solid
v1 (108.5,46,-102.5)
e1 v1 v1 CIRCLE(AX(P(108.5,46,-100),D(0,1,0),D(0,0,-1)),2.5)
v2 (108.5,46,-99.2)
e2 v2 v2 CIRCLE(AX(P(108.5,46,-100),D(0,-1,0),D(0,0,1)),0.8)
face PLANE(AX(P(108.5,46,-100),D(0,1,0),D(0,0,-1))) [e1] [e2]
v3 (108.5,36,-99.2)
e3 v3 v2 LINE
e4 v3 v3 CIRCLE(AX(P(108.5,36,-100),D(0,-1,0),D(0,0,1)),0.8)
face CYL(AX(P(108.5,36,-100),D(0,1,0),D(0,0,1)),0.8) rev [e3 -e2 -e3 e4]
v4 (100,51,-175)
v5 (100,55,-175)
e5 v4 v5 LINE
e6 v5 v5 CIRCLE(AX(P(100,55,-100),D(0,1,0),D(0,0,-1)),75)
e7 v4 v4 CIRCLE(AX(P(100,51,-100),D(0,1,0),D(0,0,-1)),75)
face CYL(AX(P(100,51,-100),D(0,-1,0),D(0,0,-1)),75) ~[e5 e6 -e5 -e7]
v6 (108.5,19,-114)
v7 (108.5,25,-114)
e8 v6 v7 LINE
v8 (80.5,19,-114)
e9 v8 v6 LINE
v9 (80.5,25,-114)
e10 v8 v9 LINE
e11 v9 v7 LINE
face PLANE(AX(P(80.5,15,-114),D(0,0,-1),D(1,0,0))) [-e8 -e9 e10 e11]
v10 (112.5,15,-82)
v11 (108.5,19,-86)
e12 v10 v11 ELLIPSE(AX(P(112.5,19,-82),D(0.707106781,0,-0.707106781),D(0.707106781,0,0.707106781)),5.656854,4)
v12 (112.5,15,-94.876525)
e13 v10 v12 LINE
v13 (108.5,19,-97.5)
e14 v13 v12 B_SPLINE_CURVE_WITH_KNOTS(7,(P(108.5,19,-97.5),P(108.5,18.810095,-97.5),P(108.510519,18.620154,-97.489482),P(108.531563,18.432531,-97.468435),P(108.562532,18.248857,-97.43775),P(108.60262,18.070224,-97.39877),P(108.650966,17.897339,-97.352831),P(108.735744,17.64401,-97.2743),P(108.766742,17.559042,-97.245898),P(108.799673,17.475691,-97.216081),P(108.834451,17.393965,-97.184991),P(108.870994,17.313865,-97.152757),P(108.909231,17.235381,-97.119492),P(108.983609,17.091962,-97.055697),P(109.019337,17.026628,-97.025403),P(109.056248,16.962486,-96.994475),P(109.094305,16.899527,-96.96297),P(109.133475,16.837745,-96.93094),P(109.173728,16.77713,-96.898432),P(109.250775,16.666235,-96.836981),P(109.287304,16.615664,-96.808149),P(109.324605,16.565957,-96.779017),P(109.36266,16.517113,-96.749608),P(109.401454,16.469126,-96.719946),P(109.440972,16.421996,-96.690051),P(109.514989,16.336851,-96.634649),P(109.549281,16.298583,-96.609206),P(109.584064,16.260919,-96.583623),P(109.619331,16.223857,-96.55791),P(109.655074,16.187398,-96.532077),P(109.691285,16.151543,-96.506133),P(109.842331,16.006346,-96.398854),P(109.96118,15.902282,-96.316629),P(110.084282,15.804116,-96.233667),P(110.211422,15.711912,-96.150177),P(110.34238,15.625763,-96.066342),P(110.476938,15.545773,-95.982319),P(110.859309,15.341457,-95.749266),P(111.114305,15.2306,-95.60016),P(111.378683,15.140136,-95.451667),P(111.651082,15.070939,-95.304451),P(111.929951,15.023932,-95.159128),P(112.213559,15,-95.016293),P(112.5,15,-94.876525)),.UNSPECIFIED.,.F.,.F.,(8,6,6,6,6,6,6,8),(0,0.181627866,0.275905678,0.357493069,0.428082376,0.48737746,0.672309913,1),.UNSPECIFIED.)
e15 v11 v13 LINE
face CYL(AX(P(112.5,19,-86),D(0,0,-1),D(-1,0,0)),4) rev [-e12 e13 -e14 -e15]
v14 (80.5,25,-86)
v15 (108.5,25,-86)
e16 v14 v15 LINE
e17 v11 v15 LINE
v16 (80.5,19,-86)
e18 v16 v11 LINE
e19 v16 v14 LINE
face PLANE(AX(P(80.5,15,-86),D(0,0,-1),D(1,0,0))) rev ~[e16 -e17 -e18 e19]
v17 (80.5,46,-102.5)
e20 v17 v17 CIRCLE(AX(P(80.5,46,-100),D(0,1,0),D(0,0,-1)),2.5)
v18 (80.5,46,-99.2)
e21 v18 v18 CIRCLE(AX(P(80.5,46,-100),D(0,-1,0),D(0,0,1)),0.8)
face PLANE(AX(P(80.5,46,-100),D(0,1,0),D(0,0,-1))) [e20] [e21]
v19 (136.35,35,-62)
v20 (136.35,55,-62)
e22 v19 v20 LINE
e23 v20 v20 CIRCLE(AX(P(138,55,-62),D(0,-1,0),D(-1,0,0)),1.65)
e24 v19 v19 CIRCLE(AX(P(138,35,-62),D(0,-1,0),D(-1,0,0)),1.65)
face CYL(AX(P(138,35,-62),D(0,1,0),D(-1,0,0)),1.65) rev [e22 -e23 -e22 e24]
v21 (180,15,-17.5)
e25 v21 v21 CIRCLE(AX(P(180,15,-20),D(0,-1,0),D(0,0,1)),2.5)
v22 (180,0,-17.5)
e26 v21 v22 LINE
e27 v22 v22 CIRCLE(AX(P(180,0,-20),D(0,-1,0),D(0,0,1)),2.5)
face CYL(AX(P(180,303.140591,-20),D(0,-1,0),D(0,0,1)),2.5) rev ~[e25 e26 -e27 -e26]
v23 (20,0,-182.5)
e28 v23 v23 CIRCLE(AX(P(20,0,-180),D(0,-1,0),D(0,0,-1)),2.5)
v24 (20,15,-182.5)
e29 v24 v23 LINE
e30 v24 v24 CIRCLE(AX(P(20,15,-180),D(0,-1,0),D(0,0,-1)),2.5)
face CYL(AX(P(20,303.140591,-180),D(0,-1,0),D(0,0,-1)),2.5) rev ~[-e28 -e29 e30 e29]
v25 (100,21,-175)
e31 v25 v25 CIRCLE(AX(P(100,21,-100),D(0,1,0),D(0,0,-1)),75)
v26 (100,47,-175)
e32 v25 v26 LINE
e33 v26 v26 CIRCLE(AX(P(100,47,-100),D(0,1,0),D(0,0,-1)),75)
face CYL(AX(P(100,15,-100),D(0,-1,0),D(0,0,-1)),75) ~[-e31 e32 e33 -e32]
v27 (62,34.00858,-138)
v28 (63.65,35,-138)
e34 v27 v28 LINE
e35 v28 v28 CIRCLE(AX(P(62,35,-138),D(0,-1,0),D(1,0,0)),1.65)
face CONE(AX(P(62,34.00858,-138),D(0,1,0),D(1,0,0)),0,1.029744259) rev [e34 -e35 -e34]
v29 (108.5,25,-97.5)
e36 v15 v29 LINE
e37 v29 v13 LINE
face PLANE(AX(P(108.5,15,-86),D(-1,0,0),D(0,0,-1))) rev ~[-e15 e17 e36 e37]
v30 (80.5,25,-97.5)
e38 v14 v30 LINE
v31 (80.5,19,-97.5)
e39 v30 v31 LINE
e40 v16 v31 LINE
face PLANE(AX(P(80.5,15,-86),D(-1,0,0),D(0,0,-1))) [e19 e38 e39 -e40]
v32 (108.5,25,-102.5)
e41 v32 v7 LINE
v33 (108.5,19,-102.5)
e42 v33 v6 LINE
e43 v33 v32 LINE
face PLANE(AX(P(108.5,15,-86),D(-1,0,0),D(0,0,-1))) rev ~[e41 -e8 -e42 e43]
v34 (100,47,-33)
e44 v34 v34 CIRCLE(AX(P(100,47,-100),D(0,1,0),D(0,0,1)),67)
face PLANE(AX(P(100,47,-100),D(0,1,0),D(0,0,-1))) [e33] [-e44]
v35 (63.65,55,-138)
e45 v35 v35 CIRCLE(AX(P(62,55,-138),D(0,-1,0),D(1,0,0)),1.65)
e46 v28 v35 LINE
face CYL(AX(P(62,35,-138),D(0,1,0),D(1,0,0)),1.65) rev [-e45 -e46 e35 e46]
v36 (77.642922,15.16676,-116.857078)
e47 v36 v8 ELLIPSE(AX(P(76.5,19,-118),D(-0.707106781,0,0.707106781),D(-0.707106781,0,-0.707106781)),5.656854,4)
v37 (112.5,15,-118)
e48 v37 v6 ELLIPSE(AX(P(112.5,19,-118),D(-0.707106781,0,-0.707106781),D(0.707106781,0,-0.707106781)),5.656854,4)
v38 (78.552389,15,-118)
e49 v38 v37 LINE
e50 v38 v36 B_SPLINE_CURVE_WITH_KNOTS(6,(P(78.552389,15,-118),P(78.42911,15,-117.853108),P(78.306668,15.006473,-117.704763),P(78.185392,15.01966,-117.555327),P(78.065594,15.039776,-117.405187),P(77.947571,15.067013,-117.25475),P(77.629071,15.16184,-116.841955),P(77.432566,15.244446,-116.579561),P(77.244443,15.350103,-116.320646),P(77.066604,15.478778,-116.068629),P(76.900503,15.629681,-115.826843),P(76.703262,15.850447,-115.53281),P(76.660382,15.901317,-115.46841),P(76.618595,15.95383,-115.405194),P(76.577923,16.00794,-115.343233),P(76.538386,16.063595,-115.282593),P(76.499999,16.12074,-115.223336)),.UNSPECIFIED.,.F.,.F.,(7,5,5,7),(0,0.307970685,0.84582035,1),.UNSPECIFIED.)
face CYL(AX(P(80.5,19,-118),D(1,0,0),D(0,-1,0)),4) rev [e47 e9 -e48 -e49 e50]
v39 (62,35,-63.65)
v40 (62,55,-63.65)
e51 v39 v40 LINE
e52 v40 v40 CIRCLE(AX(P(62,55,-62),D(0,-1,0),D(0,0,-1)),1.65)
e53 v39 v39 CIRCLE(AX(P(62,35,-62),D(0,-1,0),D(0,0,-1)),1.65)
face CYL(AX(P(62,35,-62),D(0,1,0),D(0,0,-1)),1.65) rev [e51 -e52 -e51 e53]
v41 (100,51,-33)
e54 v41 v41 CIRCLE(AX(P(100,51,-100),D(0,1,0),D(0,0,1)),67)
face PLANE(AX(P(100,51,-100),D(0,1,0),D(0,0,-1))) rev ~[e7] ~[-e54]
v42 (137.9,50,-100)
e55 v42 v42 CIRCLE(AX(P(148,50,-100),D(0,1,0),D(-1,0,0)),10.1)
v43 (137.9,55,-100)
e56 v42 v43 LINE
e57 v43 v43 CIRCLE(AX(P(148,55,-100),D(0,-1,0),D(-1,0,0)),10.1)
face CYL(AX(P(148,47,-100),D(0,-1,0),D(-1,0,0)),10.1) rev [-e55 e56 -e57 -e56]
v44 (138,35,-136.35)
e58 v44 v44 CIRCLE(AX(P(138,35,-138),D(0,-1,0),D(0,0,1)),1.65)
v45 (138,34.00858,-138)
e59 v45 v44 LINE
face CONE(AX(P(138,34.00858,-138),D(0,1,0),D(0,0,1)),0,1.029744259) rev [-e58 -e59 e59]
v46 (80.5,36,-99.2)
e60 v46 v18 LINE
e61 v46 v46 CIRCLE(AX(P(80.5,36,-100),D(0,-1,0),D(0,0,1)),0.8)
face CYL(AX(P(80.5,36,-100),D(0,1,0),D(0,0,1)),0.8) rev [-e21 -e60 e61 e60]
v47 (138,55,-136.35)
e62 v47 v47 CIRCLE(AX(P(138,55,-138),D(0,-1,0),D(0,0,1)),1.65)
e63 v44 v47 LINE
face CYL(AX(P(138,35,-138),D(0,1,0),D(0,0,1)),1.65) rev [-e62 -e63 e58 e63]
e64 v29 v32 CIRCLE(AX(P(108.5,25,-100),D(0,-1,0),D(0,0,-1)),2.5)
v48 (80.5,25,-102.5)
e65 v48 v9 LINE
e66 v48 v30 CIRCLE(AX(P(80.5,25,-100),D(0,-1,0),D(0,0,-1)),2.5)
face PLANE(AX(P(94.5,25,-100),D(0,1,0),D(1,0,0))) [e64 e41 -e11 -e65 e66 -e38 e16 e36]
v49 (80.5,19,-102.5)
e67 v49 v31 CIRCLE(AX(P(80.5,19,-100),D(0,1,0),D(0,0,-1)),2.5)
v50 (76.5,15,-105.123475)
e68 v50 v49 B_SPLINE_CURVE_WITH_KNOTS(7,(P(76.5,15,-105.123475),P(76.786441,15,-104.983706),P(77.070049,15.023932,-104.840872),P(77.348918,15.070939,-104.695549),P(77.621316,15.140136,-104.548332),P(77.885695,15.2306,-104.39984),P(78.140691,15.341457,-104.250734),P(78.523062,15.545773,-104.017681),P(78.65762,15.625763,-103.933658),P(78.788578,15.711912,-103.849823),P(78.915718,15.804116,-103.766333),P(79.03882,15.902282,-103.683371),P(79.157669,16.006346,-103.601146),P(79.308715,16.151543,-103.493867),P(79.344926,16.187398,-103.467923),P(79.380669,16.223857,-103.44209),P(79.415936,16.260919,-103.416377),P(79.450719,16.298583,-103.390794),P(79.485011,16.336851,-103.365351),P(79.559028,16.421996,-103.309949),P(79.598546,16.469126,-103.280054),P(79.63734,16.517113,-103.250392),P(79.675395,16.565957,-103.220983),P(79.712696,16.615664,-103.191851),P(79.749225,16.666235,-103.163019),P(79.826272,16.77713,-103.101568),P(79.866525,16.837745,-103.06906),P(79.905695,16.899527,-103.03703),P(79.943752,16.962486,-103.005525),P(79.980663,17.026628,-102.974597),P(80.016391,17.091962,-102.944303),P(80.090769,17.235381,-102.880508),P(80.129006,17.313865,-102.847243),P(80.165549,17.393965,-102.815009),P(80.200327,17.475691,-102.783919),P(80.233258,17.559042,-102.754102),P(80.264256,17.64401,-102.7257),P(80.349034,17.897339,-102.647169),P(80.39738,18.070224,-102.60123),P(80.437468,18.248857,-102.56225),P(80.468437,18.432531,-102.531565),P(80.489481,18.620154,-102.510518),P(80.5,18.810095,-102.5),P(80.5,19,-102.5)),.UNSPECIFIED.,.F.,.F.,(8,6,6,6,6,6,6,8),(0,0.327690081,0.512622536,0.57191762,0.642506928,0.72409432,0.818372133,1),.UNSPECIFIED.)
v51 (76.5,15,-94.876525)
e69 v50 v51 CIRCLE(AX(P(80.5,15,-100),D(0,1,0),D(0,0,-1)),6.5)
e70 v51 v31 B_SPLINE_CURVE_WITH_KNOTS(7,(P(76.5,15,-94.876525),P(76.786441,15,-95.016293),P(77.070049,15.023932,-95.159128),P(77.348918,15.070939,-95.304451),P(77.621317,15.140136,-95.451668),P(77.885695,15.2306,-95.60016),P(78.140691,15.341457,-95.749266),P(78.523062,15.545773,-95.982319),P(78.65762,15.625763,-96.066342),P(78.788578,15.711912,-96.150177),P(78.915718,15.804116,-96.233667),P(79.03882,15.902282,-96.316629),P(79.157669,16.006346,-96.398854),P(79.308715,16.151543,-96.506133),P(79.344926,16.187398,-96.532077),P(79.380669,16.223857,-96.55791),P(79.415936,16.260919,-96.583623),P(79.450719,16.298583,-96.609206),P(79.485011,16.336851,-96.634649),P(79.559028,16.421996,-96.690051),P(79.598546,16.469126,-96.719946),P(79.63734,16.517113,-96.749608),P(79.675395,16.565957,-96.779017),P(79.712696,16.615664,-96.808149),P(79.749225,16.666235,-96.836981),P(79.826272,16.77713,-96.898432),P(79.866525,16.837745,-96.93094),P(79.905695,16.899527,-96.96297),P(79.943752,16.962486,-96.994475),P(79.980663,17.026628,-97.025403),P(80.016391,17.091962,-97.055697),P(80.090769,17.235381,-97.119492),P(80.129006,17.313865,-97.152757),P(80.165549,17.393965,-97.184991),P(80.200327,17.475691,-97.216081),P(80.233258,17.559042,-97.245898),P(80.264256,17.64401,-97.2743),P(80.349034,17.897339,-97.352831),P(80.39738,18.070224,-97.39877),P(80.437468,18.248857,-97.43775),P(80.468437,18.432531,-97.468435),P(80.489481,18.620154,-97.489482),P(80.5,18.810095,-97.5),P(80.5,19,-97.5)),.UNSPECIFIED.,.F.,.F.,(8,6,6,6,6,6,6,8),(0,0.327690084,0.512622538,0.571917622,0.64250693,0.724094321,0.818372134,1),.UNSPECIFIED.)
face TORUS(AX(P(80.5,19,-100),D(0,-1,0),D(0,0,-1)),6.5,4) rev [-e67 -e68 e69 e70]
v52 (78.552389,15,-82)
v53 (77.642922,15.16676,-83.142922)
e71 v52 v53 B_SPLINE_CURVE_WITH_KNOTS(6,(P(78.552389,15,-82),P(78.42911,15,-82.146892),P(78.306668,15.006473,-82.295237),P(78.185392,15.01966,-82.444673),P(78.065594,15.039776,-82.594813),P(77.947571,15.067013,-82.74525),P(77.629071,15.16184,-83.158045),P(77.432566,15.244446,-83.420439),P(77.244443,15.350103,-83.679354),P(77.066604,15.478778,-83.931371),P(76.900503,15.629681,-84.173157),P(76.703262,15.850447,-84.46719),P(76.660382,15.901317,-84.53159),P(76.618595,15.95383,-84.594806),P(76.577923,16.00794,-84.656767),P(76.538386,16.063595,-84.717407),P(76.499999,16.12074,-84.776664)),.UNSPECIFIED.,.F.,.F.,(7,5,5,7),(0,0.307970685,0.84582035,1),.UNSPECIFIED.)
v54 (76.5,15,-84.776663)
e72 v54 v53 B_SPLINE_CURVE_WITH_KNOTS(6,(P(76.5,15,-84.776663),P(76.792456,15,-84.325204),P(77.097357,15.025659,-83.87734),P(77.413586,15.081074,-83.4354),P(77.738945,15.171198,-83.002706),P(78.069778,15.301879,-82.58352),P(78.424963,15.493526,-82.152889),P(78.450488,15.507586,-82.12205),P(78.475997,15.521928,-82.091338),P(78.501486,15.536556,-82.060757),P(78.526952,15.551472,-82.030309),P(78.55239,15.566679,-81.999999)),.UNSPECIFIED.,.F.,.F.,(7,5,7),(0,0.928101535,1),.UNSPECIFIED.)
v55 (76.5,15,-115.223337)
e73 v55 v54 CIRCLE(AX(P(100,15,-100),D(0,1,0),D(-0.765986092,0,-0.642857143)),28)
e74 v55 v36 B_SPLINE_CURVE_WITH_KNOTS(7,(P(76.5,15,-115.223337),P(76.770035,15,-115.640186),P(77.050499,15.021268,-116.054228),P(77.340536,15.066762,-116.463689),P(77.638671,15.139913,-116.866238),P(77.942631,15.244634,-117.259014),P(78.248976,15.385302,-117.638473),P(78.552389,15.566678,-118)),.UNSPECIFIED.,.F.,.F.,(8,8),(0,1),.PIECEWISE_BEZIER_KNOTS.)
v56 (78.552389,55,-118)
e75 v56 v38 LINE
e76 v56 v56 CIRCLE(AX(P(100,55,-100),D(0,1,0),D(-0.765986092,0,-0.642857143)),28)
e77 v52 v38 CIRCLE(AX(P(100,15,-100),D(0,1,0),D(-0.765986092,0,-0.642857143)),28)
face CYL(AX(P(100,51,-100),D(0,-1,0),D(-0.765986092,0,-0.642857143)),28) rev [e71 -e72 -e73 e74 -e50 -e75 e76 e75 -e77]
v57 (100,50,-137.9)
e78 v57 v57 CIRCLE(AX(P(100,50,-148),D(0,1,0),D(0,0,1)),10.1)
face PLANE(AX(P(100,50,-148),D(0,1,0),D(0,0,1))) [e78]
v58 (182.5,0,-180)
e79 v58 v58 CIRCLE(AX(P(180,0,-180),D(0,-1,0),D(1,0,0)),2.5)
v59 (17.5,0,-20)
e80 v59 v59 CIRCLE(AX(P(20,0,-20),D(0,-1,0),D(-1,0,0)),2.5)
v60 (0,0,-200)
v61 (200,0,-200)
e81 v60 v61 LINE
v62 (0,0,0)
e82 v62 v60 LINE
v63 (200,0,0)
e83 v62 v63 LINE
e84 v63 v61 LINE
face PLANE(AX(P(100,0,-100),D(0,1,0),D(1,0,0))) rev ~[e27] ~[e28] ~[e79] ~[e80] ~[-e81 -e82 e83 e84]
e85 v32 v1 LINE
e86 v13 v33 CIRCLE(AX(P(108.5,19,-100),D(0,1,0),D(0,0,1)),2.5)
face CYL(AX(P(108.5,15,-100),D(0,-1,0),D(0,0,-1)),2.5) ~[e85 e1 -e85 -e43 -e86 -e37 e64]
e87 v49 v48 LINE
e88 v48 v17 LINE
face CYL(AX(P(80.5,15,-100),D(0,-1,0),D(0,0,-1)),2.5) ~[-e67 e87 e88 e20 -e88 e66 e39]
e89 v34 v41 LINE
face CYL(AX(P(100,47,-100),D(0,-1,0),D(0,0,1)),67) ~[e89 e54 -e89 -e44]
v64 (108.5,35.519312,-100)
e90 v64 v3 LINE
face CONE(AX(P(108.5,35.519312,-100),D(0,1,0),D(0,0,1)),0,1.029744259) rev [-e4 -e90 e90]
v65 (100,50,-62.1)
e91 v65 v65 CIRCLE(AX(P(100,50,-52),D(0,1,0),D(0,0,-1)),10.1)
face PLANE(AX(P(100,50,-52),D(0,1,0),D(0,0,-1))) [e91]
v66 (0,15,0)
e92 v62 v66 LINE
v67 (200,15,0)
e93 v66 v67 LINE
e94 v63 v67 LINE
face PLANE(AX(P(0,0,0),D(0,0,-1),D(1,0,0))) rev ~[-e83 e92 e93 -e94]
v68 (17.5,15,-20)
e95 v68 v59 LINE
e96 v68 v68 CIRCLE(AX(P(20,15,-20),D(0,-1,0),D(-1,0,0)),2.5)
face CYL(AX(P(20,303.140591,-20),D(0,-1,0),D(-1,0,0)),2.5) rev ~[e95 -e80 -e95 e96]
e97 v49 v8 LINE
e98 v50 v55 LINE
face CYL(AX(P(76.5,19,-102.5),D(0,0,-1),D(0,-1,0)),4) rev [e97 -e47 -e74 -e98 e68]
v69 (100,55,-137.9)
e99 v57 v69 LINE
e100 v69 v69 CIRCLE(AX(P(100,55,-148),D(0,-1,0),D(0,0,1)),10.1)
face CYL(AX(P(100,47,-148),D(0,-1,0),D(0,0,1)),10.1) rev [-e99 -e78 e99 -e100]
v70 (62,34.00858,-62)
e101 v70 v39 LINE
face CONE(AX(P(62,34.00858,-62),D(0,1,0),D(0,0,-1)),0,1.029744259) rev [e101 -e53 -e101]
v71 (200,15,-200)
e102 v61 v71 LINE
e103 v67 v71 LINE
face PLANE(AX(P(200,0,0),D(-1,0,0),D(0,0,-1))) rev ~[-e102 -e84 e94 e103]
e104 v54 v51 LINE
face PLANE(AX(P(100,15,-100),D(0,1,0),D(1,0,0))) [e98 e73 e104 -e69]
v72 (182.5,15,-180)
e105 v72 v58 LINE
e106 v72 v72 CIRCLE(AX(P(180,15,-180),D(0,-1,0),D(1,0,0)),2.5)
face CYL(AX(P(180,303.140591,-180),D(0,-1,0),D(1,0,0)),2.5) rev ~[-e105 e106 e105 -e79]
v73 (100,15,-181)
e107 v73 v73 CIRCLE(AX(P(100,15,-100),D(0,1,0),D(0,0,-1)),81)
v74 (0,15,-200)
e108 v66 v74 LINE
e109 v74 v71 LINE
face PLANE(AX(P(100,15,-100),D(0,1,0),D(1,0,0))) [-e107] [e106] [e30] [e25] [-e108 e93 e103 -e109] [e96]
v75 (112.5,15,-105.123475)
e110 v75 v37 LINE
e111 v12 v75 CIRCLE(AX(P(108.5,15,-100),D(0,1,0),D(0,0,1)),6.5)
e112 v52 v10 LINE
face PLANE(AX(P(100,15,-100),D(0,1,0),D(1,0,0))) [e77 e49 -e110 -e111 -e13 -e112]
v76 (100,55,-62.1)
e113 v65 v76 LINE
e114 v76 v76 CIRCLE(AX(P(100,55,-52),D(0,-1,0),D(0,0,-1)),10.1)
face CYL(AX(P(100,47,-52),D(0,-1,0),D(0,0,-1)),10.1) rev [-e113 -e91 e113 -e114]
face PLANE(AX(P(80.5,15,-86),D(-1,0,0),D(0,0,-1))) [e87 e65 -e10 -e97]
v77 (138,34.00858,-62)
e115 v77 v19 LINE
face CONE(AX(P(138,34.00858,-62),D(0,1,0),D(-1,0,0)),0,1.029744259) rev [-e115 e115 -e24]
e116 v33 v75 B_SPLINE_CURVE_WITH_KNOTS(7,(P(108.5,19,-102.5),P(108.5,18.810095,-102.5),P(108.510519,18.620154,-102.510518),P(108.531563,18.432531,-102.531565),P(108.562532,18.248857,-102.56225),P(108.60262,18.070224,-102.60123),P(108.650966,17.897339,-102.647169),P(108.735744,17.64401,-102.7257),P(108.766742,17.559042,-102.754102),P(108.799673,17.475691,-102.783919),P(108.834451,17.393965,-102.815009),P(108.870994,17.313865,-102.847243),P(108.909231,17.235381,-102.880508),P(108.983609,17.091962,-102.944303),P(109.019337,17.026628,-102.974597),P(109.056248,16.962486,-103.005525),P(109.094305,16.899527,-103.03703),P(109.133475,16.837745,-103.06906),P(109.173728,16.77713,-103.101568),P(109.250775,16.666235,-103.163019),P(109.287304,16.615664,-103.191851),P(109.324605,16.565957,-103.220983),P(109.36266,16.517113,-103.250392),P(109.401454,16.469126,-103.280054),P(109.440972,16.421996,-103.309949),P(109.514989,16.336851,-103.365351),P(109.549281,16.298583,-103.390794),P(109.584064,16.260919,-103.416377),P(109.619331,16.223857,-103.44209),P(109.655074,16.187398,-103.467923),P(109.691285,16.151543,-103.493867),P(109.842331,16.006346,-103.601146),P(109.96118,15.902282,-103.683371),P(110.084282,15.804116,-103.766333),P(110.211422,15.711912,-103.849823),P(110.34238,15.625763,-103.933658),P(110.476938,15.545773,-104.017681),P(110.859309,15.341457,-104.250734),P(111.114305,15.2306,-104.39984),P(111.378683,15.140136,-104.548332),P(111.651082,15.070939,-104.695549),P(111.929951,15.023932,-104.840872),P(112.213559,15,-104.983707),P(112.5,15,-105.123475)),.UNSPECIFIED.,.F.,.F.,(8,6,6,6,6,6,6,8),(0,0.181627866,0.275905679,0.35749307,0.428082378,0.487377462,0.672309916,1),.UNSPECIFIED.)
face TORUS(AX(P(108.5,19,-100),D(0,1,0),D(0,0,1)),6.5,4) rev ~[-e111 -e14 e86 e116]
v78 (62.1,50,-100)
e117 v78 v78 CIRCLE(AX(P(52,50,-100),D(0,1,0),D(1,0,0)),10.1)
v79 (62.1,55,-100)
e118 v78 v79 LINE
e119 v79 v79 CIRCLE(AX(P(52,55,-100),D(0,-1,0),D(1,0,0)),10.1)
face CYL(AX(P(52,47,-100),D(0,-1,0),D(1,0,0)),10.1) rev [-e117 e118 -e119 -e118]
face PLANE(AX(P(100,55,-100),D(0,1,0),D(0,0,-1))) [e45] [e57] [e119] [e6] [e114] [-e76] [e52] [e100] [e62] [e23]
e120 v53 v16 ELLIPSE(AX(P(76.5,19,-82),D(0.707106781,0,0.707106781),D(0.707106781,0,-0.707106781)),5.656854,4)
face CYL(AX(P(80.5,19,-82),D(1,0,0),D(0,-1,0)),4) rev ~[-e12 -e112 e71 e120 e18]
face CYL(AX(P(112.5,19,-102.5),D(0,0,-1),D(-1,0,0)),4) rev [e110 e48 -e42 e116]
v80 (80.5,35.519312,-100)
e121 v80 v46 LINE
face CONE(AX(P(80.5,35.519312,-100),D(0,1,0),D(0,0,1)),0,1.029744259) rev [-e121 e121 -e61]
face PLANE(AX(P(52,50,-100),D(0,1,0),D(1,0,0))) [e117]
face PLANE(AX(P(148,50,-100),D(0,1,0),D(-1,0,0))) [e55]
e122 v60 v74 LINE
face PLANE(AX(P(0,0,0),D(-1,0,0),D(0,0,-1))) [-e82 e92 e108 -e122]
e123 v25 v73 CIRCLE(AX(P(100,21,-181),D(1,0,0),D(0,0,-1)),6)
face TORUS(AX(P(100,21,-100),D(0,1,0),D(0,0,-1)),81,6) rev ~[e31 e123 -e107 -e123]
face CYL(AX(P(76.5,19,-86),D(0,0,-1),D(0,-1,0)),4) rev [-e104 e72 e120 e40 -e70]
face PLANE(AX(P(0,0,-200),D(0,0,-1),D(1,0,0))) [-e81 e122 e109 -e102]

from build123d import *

# Parameters (mm, degrees)
SKETCH1_W                   = 200
SKETCH1_H                   = 200
BOSS_EXTRUDE1_DEPTH         = 15
SKETCH2_R                   = 2.5
BOSS_EXTRUDE2_DEPTH         = 31
SKETCH4_W                   = 28
SKETCH4_H                   = 28
BOSS_EXTRUDE3_DEPTH         = 10
LPATTERN2_COUNT             = 2
LPATTERN2_PITCH             = 28
FILLET1_R                   = 4
SKETCH8_R                   = 75
SKETCH8_R_2                 = 28
BOSS_EXTRUDE5_DEPTH         = 32
FILLET2_R                   = 6
SKETCH10_R                  = 67
SKETCH10_R_2                = 28
BOSS_EXTRUDE6_DEPTH         = 4
SKETCH11_R                  = 75
SKETCH11_R_2                = 28
BOSS_EXTRUDE7_DEPTH         = 4
SKETCH9_R                   = 10.1
CUT_EXTRUDE2_DEPTH          = 287.721118859
CIRPATTERN1_COUNT           = 4
SKETCH12_R                  = 10.1
BOSS_EXTRUDE8_DEPTH         = 3
CIRPATTERN2_COUNT           = 4
TAP_DRILL_FOR_M6X1_0_TAP1_D = 5
CIRPATTERN4_COUNT           = 4
CIRPATTERN5_COUNT           = 4
LPATTERN3_COUNT             = 2
LPATTERN3_PITCH             = 28


with BuildPart() as part:
    # Sketch1 → Boss-Extrude1 (new body)
    with BuildSketch(Plane(origin=(0, 0, 0), x_dir=(1, 0, 0), z_dir=(0, 1, 0))):
        with Locations((100, 100)):
            Rectangle(SKETCH1_W, SKETCH1_H)
    extrude(amount=BOSS_EXTRUDE1_DEPTH)

    # Sketch2 → Boss-Extrude2 (add)
    with BuildSketch(Plane(origin=(0, 15, 0), x_dir=(1, 0, 0), z_dir=(0, 1, 0))):
        with Locations(Location((80.5, 100, 0), (0, 0, 90))):
            Circle(SKETCH2_R)
    boss_extrude2 = extrude(amount=BOSS_EXTRUDE2_DEPTH)

    # Sketch4 → Boss-Extrude3 (add)
    with BuildSketch(Plane(origin=(0, 15, 0), x_dir=(1, 0, 0), z_dir=(0, 1, 0))):
        with Locations((94.5, 100)):
            Rectangle(SKETCH4_W, SKETCH4_H)
    extrude(amount=BOSS_EXTRUDE3_DEPTH)

    # LPattern2: Boss-Extrude2 ×2
    with Locations(*[(i * LPATTERN2_PITCH, 0, 0) for i in range(1, LPATTERN2_COUNT)]):
        add(boss_extrude2)

    # Fillet1
    fillet1_edges = [part.edges().sort_by_distance(p)[0] for p in [
        (78, 15, -100),
        (80.5, 15, -91.75),
        (80.5, 15, -108.25),
        (94.5, 15, -86),
        (108.5, 15, -91.75),
        (94.5, 15, -114),
        (108.5, 15, -108.25),
        (111, 15, -100),
    ]]
    fillet(fillet1_edges, radius=FILLET1_R)

    # Sketch8 → Boss-Extrude5 (add)
    with BuildSketch(Plane(origin=(0, 15, 0), x_dir=(1, 0, 0), z_dir=(0, 1, 0))):
        with Locations(Location((100, 100, 0), (0, 0, 90))):
            Circle(SKETCH8_R)
        with Locations(Location((100, 100, 0), (0, 0, 139.994799115))):
            Circle(SKETCH8_R_2, mode=Mode.SUBTRACT)
    extrude(amount=BOSS_EXTRUDE5_DEPTH)

    # Fillet2
    fillet2_edges = [part.edges().sort_by_distance(p)[0] for p in [
        (100, 15, -25),
    ]]
    fillet(fillet2_edges, radius=FILLET2_R)

    # Sketch10 → Boss-Extrude6 (add)
    with BuildSketch(Plane(origin=(0, 47, 0), x_dir=(1, 0, 0), z_dir=(0, 1, 0))):
        with Locations(Location((100, 100, 0), (0, 0, 270))):
            Circle(SKETCH10_R)
        with Locations(Location((100, 100, 0), (0, 0, 139.994799115))):
            Circle(SKETCH10_R_2, mode=Mode.SUBTRACT)
    extrude(amount=BOSS_EXTRUDE6_DEPTH)

    # Sketch11 → Boss-Extrude7 (add)
    with BuildSketch(Plane(origin=(0, 51, 0), x_dir=(1, 0, 0), z_dir=(0, 1, 0))):
        with Locations(Location((100, 100, 0), (0, 0, 90))):
            Circle(SKETCH11_R)
        with Locations(Location((100, 100, 0), (0, 0, 139.994799115))):
            Circle(SKETCH11_R_2, mode=Mode.SUBTRACT)
    extrude(amount=BOSS_EXTRUDE7_DEPTH)

    # Sketch9 → Cut-Extrude2 (cut, through all)
    with BuildSketch(Plane(origin=(0, 47, 0), x_dir=(1, 0, 0), z_dir=(0, 1, 0))):
        with Locations(Location((100, 148, 0), (0, 0, 270))):
            Circle(SKETCH9_R)
    cut_extrude2 = extrude(amount=CUT_EXTRUDE2_DEPTH, mode=Mode.SUBTRACT)

    # CirPattern1: Cut-Extrude2 ×4 about axis
    cirpattern1_axis = Axis((100, 0, -100), (0, 1, 0))
    for i in range(1, CIRPATTERN1_COUNT):
        add(cut_extrude2.rotate(cirpattern1_axis, i * 360 / CIRPATTERN1_COUNT), mode=Mode.SUBTRACT)

    # Sketch12 → Boss-Extrude8 (add)
    with BuildSketch(Plane(origin=(0, 47, 0), x_dir=(1, 0, 0), z_dir=(0, 1, 0))):
        with Locations(Location((100, 148, 0), (0, 0, 270))):
            Circle(SKETCH12_R)
    boss_extrude8 = extrude(amount=BOSS_EXTRUDE8_DEPTH)

    # CirPattern2: Boss-Extrude8 ×4 about axis
    cirpattern2_axis = Axis((100, 0, -100), (0, -1, 0))
    for i in range(1, CIRPATTERN2_COUNT):
        add(boss_extrude8.rotate(cirpattern2_axis, i * 360 / CIRPATTERN2_COUNT))

    # Tap Drill for M6x1.0 Tap1 (through all)
    with Locations(Plane(origin=(0, 15, 0), x_dir=(1, 0, 0), z_dir=(0, 1, 0))):
        with Locations((20, 20)):
            tap_drill_for_m6x1_0_tap1 = Hole(TAP_DRILL_FOR_M6X1_0_TAP1_D / 2)

    # CirPattern4: Tap Drill for M6x1.0 Tap1 ×4 about axis
    cirpattern4_axis = Axis((100, 0, -100), (0, 1, 0))
    for i in range(1, CIRPATTERN4_COUNT):
        add(tap_drill_for_m6x1_0_tap1.rotate(cirpattern4_axis, i * 360 / CIRPATTERN4_COUNT), mode=Mode.SUBTRACT)

    # Sketch23 → Tap Drill for M4x0.7 Tap2 (revolve, cut)
    with BuildSketch(Plane(origin=(138, 55, -138), x_dir=(0, 0, 1), z_dir=(1, 0, 0))):
        Polygon((0, 0), (0, 20.991420021), (1.65, 20), (1.65, 0), align=None)
    tap_drill_for_m4x0_7_tap2 = revolve(axis=Axis((138, 61.35, -138), (0, -1, 0)), mode=Mode.SUBTRACT)

    # CirPattern5: Tap Drill for M4x0.7 Tap2 ×4 about axis
    cirpattern5_axis = Axis((100, 0, -100), (0, 1, 0))
    for i in range(1, CIRPATTERN5_COUNT):
        add(tap_drill_for_m4x0_7_tap2.rotate(cirpattern5_axis, i * 360 / CIRPATTERN5_COUNT), mode=Mode.SUBTRACT)

    # Sketch28 → Tap Drill for M2x0.4 Tap1 (revolve, cut)
    with BuildSketch(Plane(origin=(80.5, 46, -100), x_dir=(0, 0, 1), z_dir=(1, 0, 0))):
        Polygon((0, 0), (0, 10.480688495), (0.8, 10), (0.8, 0), align=None)
    tap_drill_for_m2x0_4_tap1 = revolve(axis=Axis((80.5, 52.35, -100), (0, -1, 0)), mode=Mode.SUBTRACT)

    # LPattern3: Tap Drill for M2x0.4 Tap1 ×2
    with Locations(*[(i * LPATTERN3_PITCH, 0, 0) for i in range(1, LPATTERN3_COUNT)]):
        add(tap_drill_for_m2x0_4_tap1, mode=Mode.SUBTRACT)


solid = part.part
